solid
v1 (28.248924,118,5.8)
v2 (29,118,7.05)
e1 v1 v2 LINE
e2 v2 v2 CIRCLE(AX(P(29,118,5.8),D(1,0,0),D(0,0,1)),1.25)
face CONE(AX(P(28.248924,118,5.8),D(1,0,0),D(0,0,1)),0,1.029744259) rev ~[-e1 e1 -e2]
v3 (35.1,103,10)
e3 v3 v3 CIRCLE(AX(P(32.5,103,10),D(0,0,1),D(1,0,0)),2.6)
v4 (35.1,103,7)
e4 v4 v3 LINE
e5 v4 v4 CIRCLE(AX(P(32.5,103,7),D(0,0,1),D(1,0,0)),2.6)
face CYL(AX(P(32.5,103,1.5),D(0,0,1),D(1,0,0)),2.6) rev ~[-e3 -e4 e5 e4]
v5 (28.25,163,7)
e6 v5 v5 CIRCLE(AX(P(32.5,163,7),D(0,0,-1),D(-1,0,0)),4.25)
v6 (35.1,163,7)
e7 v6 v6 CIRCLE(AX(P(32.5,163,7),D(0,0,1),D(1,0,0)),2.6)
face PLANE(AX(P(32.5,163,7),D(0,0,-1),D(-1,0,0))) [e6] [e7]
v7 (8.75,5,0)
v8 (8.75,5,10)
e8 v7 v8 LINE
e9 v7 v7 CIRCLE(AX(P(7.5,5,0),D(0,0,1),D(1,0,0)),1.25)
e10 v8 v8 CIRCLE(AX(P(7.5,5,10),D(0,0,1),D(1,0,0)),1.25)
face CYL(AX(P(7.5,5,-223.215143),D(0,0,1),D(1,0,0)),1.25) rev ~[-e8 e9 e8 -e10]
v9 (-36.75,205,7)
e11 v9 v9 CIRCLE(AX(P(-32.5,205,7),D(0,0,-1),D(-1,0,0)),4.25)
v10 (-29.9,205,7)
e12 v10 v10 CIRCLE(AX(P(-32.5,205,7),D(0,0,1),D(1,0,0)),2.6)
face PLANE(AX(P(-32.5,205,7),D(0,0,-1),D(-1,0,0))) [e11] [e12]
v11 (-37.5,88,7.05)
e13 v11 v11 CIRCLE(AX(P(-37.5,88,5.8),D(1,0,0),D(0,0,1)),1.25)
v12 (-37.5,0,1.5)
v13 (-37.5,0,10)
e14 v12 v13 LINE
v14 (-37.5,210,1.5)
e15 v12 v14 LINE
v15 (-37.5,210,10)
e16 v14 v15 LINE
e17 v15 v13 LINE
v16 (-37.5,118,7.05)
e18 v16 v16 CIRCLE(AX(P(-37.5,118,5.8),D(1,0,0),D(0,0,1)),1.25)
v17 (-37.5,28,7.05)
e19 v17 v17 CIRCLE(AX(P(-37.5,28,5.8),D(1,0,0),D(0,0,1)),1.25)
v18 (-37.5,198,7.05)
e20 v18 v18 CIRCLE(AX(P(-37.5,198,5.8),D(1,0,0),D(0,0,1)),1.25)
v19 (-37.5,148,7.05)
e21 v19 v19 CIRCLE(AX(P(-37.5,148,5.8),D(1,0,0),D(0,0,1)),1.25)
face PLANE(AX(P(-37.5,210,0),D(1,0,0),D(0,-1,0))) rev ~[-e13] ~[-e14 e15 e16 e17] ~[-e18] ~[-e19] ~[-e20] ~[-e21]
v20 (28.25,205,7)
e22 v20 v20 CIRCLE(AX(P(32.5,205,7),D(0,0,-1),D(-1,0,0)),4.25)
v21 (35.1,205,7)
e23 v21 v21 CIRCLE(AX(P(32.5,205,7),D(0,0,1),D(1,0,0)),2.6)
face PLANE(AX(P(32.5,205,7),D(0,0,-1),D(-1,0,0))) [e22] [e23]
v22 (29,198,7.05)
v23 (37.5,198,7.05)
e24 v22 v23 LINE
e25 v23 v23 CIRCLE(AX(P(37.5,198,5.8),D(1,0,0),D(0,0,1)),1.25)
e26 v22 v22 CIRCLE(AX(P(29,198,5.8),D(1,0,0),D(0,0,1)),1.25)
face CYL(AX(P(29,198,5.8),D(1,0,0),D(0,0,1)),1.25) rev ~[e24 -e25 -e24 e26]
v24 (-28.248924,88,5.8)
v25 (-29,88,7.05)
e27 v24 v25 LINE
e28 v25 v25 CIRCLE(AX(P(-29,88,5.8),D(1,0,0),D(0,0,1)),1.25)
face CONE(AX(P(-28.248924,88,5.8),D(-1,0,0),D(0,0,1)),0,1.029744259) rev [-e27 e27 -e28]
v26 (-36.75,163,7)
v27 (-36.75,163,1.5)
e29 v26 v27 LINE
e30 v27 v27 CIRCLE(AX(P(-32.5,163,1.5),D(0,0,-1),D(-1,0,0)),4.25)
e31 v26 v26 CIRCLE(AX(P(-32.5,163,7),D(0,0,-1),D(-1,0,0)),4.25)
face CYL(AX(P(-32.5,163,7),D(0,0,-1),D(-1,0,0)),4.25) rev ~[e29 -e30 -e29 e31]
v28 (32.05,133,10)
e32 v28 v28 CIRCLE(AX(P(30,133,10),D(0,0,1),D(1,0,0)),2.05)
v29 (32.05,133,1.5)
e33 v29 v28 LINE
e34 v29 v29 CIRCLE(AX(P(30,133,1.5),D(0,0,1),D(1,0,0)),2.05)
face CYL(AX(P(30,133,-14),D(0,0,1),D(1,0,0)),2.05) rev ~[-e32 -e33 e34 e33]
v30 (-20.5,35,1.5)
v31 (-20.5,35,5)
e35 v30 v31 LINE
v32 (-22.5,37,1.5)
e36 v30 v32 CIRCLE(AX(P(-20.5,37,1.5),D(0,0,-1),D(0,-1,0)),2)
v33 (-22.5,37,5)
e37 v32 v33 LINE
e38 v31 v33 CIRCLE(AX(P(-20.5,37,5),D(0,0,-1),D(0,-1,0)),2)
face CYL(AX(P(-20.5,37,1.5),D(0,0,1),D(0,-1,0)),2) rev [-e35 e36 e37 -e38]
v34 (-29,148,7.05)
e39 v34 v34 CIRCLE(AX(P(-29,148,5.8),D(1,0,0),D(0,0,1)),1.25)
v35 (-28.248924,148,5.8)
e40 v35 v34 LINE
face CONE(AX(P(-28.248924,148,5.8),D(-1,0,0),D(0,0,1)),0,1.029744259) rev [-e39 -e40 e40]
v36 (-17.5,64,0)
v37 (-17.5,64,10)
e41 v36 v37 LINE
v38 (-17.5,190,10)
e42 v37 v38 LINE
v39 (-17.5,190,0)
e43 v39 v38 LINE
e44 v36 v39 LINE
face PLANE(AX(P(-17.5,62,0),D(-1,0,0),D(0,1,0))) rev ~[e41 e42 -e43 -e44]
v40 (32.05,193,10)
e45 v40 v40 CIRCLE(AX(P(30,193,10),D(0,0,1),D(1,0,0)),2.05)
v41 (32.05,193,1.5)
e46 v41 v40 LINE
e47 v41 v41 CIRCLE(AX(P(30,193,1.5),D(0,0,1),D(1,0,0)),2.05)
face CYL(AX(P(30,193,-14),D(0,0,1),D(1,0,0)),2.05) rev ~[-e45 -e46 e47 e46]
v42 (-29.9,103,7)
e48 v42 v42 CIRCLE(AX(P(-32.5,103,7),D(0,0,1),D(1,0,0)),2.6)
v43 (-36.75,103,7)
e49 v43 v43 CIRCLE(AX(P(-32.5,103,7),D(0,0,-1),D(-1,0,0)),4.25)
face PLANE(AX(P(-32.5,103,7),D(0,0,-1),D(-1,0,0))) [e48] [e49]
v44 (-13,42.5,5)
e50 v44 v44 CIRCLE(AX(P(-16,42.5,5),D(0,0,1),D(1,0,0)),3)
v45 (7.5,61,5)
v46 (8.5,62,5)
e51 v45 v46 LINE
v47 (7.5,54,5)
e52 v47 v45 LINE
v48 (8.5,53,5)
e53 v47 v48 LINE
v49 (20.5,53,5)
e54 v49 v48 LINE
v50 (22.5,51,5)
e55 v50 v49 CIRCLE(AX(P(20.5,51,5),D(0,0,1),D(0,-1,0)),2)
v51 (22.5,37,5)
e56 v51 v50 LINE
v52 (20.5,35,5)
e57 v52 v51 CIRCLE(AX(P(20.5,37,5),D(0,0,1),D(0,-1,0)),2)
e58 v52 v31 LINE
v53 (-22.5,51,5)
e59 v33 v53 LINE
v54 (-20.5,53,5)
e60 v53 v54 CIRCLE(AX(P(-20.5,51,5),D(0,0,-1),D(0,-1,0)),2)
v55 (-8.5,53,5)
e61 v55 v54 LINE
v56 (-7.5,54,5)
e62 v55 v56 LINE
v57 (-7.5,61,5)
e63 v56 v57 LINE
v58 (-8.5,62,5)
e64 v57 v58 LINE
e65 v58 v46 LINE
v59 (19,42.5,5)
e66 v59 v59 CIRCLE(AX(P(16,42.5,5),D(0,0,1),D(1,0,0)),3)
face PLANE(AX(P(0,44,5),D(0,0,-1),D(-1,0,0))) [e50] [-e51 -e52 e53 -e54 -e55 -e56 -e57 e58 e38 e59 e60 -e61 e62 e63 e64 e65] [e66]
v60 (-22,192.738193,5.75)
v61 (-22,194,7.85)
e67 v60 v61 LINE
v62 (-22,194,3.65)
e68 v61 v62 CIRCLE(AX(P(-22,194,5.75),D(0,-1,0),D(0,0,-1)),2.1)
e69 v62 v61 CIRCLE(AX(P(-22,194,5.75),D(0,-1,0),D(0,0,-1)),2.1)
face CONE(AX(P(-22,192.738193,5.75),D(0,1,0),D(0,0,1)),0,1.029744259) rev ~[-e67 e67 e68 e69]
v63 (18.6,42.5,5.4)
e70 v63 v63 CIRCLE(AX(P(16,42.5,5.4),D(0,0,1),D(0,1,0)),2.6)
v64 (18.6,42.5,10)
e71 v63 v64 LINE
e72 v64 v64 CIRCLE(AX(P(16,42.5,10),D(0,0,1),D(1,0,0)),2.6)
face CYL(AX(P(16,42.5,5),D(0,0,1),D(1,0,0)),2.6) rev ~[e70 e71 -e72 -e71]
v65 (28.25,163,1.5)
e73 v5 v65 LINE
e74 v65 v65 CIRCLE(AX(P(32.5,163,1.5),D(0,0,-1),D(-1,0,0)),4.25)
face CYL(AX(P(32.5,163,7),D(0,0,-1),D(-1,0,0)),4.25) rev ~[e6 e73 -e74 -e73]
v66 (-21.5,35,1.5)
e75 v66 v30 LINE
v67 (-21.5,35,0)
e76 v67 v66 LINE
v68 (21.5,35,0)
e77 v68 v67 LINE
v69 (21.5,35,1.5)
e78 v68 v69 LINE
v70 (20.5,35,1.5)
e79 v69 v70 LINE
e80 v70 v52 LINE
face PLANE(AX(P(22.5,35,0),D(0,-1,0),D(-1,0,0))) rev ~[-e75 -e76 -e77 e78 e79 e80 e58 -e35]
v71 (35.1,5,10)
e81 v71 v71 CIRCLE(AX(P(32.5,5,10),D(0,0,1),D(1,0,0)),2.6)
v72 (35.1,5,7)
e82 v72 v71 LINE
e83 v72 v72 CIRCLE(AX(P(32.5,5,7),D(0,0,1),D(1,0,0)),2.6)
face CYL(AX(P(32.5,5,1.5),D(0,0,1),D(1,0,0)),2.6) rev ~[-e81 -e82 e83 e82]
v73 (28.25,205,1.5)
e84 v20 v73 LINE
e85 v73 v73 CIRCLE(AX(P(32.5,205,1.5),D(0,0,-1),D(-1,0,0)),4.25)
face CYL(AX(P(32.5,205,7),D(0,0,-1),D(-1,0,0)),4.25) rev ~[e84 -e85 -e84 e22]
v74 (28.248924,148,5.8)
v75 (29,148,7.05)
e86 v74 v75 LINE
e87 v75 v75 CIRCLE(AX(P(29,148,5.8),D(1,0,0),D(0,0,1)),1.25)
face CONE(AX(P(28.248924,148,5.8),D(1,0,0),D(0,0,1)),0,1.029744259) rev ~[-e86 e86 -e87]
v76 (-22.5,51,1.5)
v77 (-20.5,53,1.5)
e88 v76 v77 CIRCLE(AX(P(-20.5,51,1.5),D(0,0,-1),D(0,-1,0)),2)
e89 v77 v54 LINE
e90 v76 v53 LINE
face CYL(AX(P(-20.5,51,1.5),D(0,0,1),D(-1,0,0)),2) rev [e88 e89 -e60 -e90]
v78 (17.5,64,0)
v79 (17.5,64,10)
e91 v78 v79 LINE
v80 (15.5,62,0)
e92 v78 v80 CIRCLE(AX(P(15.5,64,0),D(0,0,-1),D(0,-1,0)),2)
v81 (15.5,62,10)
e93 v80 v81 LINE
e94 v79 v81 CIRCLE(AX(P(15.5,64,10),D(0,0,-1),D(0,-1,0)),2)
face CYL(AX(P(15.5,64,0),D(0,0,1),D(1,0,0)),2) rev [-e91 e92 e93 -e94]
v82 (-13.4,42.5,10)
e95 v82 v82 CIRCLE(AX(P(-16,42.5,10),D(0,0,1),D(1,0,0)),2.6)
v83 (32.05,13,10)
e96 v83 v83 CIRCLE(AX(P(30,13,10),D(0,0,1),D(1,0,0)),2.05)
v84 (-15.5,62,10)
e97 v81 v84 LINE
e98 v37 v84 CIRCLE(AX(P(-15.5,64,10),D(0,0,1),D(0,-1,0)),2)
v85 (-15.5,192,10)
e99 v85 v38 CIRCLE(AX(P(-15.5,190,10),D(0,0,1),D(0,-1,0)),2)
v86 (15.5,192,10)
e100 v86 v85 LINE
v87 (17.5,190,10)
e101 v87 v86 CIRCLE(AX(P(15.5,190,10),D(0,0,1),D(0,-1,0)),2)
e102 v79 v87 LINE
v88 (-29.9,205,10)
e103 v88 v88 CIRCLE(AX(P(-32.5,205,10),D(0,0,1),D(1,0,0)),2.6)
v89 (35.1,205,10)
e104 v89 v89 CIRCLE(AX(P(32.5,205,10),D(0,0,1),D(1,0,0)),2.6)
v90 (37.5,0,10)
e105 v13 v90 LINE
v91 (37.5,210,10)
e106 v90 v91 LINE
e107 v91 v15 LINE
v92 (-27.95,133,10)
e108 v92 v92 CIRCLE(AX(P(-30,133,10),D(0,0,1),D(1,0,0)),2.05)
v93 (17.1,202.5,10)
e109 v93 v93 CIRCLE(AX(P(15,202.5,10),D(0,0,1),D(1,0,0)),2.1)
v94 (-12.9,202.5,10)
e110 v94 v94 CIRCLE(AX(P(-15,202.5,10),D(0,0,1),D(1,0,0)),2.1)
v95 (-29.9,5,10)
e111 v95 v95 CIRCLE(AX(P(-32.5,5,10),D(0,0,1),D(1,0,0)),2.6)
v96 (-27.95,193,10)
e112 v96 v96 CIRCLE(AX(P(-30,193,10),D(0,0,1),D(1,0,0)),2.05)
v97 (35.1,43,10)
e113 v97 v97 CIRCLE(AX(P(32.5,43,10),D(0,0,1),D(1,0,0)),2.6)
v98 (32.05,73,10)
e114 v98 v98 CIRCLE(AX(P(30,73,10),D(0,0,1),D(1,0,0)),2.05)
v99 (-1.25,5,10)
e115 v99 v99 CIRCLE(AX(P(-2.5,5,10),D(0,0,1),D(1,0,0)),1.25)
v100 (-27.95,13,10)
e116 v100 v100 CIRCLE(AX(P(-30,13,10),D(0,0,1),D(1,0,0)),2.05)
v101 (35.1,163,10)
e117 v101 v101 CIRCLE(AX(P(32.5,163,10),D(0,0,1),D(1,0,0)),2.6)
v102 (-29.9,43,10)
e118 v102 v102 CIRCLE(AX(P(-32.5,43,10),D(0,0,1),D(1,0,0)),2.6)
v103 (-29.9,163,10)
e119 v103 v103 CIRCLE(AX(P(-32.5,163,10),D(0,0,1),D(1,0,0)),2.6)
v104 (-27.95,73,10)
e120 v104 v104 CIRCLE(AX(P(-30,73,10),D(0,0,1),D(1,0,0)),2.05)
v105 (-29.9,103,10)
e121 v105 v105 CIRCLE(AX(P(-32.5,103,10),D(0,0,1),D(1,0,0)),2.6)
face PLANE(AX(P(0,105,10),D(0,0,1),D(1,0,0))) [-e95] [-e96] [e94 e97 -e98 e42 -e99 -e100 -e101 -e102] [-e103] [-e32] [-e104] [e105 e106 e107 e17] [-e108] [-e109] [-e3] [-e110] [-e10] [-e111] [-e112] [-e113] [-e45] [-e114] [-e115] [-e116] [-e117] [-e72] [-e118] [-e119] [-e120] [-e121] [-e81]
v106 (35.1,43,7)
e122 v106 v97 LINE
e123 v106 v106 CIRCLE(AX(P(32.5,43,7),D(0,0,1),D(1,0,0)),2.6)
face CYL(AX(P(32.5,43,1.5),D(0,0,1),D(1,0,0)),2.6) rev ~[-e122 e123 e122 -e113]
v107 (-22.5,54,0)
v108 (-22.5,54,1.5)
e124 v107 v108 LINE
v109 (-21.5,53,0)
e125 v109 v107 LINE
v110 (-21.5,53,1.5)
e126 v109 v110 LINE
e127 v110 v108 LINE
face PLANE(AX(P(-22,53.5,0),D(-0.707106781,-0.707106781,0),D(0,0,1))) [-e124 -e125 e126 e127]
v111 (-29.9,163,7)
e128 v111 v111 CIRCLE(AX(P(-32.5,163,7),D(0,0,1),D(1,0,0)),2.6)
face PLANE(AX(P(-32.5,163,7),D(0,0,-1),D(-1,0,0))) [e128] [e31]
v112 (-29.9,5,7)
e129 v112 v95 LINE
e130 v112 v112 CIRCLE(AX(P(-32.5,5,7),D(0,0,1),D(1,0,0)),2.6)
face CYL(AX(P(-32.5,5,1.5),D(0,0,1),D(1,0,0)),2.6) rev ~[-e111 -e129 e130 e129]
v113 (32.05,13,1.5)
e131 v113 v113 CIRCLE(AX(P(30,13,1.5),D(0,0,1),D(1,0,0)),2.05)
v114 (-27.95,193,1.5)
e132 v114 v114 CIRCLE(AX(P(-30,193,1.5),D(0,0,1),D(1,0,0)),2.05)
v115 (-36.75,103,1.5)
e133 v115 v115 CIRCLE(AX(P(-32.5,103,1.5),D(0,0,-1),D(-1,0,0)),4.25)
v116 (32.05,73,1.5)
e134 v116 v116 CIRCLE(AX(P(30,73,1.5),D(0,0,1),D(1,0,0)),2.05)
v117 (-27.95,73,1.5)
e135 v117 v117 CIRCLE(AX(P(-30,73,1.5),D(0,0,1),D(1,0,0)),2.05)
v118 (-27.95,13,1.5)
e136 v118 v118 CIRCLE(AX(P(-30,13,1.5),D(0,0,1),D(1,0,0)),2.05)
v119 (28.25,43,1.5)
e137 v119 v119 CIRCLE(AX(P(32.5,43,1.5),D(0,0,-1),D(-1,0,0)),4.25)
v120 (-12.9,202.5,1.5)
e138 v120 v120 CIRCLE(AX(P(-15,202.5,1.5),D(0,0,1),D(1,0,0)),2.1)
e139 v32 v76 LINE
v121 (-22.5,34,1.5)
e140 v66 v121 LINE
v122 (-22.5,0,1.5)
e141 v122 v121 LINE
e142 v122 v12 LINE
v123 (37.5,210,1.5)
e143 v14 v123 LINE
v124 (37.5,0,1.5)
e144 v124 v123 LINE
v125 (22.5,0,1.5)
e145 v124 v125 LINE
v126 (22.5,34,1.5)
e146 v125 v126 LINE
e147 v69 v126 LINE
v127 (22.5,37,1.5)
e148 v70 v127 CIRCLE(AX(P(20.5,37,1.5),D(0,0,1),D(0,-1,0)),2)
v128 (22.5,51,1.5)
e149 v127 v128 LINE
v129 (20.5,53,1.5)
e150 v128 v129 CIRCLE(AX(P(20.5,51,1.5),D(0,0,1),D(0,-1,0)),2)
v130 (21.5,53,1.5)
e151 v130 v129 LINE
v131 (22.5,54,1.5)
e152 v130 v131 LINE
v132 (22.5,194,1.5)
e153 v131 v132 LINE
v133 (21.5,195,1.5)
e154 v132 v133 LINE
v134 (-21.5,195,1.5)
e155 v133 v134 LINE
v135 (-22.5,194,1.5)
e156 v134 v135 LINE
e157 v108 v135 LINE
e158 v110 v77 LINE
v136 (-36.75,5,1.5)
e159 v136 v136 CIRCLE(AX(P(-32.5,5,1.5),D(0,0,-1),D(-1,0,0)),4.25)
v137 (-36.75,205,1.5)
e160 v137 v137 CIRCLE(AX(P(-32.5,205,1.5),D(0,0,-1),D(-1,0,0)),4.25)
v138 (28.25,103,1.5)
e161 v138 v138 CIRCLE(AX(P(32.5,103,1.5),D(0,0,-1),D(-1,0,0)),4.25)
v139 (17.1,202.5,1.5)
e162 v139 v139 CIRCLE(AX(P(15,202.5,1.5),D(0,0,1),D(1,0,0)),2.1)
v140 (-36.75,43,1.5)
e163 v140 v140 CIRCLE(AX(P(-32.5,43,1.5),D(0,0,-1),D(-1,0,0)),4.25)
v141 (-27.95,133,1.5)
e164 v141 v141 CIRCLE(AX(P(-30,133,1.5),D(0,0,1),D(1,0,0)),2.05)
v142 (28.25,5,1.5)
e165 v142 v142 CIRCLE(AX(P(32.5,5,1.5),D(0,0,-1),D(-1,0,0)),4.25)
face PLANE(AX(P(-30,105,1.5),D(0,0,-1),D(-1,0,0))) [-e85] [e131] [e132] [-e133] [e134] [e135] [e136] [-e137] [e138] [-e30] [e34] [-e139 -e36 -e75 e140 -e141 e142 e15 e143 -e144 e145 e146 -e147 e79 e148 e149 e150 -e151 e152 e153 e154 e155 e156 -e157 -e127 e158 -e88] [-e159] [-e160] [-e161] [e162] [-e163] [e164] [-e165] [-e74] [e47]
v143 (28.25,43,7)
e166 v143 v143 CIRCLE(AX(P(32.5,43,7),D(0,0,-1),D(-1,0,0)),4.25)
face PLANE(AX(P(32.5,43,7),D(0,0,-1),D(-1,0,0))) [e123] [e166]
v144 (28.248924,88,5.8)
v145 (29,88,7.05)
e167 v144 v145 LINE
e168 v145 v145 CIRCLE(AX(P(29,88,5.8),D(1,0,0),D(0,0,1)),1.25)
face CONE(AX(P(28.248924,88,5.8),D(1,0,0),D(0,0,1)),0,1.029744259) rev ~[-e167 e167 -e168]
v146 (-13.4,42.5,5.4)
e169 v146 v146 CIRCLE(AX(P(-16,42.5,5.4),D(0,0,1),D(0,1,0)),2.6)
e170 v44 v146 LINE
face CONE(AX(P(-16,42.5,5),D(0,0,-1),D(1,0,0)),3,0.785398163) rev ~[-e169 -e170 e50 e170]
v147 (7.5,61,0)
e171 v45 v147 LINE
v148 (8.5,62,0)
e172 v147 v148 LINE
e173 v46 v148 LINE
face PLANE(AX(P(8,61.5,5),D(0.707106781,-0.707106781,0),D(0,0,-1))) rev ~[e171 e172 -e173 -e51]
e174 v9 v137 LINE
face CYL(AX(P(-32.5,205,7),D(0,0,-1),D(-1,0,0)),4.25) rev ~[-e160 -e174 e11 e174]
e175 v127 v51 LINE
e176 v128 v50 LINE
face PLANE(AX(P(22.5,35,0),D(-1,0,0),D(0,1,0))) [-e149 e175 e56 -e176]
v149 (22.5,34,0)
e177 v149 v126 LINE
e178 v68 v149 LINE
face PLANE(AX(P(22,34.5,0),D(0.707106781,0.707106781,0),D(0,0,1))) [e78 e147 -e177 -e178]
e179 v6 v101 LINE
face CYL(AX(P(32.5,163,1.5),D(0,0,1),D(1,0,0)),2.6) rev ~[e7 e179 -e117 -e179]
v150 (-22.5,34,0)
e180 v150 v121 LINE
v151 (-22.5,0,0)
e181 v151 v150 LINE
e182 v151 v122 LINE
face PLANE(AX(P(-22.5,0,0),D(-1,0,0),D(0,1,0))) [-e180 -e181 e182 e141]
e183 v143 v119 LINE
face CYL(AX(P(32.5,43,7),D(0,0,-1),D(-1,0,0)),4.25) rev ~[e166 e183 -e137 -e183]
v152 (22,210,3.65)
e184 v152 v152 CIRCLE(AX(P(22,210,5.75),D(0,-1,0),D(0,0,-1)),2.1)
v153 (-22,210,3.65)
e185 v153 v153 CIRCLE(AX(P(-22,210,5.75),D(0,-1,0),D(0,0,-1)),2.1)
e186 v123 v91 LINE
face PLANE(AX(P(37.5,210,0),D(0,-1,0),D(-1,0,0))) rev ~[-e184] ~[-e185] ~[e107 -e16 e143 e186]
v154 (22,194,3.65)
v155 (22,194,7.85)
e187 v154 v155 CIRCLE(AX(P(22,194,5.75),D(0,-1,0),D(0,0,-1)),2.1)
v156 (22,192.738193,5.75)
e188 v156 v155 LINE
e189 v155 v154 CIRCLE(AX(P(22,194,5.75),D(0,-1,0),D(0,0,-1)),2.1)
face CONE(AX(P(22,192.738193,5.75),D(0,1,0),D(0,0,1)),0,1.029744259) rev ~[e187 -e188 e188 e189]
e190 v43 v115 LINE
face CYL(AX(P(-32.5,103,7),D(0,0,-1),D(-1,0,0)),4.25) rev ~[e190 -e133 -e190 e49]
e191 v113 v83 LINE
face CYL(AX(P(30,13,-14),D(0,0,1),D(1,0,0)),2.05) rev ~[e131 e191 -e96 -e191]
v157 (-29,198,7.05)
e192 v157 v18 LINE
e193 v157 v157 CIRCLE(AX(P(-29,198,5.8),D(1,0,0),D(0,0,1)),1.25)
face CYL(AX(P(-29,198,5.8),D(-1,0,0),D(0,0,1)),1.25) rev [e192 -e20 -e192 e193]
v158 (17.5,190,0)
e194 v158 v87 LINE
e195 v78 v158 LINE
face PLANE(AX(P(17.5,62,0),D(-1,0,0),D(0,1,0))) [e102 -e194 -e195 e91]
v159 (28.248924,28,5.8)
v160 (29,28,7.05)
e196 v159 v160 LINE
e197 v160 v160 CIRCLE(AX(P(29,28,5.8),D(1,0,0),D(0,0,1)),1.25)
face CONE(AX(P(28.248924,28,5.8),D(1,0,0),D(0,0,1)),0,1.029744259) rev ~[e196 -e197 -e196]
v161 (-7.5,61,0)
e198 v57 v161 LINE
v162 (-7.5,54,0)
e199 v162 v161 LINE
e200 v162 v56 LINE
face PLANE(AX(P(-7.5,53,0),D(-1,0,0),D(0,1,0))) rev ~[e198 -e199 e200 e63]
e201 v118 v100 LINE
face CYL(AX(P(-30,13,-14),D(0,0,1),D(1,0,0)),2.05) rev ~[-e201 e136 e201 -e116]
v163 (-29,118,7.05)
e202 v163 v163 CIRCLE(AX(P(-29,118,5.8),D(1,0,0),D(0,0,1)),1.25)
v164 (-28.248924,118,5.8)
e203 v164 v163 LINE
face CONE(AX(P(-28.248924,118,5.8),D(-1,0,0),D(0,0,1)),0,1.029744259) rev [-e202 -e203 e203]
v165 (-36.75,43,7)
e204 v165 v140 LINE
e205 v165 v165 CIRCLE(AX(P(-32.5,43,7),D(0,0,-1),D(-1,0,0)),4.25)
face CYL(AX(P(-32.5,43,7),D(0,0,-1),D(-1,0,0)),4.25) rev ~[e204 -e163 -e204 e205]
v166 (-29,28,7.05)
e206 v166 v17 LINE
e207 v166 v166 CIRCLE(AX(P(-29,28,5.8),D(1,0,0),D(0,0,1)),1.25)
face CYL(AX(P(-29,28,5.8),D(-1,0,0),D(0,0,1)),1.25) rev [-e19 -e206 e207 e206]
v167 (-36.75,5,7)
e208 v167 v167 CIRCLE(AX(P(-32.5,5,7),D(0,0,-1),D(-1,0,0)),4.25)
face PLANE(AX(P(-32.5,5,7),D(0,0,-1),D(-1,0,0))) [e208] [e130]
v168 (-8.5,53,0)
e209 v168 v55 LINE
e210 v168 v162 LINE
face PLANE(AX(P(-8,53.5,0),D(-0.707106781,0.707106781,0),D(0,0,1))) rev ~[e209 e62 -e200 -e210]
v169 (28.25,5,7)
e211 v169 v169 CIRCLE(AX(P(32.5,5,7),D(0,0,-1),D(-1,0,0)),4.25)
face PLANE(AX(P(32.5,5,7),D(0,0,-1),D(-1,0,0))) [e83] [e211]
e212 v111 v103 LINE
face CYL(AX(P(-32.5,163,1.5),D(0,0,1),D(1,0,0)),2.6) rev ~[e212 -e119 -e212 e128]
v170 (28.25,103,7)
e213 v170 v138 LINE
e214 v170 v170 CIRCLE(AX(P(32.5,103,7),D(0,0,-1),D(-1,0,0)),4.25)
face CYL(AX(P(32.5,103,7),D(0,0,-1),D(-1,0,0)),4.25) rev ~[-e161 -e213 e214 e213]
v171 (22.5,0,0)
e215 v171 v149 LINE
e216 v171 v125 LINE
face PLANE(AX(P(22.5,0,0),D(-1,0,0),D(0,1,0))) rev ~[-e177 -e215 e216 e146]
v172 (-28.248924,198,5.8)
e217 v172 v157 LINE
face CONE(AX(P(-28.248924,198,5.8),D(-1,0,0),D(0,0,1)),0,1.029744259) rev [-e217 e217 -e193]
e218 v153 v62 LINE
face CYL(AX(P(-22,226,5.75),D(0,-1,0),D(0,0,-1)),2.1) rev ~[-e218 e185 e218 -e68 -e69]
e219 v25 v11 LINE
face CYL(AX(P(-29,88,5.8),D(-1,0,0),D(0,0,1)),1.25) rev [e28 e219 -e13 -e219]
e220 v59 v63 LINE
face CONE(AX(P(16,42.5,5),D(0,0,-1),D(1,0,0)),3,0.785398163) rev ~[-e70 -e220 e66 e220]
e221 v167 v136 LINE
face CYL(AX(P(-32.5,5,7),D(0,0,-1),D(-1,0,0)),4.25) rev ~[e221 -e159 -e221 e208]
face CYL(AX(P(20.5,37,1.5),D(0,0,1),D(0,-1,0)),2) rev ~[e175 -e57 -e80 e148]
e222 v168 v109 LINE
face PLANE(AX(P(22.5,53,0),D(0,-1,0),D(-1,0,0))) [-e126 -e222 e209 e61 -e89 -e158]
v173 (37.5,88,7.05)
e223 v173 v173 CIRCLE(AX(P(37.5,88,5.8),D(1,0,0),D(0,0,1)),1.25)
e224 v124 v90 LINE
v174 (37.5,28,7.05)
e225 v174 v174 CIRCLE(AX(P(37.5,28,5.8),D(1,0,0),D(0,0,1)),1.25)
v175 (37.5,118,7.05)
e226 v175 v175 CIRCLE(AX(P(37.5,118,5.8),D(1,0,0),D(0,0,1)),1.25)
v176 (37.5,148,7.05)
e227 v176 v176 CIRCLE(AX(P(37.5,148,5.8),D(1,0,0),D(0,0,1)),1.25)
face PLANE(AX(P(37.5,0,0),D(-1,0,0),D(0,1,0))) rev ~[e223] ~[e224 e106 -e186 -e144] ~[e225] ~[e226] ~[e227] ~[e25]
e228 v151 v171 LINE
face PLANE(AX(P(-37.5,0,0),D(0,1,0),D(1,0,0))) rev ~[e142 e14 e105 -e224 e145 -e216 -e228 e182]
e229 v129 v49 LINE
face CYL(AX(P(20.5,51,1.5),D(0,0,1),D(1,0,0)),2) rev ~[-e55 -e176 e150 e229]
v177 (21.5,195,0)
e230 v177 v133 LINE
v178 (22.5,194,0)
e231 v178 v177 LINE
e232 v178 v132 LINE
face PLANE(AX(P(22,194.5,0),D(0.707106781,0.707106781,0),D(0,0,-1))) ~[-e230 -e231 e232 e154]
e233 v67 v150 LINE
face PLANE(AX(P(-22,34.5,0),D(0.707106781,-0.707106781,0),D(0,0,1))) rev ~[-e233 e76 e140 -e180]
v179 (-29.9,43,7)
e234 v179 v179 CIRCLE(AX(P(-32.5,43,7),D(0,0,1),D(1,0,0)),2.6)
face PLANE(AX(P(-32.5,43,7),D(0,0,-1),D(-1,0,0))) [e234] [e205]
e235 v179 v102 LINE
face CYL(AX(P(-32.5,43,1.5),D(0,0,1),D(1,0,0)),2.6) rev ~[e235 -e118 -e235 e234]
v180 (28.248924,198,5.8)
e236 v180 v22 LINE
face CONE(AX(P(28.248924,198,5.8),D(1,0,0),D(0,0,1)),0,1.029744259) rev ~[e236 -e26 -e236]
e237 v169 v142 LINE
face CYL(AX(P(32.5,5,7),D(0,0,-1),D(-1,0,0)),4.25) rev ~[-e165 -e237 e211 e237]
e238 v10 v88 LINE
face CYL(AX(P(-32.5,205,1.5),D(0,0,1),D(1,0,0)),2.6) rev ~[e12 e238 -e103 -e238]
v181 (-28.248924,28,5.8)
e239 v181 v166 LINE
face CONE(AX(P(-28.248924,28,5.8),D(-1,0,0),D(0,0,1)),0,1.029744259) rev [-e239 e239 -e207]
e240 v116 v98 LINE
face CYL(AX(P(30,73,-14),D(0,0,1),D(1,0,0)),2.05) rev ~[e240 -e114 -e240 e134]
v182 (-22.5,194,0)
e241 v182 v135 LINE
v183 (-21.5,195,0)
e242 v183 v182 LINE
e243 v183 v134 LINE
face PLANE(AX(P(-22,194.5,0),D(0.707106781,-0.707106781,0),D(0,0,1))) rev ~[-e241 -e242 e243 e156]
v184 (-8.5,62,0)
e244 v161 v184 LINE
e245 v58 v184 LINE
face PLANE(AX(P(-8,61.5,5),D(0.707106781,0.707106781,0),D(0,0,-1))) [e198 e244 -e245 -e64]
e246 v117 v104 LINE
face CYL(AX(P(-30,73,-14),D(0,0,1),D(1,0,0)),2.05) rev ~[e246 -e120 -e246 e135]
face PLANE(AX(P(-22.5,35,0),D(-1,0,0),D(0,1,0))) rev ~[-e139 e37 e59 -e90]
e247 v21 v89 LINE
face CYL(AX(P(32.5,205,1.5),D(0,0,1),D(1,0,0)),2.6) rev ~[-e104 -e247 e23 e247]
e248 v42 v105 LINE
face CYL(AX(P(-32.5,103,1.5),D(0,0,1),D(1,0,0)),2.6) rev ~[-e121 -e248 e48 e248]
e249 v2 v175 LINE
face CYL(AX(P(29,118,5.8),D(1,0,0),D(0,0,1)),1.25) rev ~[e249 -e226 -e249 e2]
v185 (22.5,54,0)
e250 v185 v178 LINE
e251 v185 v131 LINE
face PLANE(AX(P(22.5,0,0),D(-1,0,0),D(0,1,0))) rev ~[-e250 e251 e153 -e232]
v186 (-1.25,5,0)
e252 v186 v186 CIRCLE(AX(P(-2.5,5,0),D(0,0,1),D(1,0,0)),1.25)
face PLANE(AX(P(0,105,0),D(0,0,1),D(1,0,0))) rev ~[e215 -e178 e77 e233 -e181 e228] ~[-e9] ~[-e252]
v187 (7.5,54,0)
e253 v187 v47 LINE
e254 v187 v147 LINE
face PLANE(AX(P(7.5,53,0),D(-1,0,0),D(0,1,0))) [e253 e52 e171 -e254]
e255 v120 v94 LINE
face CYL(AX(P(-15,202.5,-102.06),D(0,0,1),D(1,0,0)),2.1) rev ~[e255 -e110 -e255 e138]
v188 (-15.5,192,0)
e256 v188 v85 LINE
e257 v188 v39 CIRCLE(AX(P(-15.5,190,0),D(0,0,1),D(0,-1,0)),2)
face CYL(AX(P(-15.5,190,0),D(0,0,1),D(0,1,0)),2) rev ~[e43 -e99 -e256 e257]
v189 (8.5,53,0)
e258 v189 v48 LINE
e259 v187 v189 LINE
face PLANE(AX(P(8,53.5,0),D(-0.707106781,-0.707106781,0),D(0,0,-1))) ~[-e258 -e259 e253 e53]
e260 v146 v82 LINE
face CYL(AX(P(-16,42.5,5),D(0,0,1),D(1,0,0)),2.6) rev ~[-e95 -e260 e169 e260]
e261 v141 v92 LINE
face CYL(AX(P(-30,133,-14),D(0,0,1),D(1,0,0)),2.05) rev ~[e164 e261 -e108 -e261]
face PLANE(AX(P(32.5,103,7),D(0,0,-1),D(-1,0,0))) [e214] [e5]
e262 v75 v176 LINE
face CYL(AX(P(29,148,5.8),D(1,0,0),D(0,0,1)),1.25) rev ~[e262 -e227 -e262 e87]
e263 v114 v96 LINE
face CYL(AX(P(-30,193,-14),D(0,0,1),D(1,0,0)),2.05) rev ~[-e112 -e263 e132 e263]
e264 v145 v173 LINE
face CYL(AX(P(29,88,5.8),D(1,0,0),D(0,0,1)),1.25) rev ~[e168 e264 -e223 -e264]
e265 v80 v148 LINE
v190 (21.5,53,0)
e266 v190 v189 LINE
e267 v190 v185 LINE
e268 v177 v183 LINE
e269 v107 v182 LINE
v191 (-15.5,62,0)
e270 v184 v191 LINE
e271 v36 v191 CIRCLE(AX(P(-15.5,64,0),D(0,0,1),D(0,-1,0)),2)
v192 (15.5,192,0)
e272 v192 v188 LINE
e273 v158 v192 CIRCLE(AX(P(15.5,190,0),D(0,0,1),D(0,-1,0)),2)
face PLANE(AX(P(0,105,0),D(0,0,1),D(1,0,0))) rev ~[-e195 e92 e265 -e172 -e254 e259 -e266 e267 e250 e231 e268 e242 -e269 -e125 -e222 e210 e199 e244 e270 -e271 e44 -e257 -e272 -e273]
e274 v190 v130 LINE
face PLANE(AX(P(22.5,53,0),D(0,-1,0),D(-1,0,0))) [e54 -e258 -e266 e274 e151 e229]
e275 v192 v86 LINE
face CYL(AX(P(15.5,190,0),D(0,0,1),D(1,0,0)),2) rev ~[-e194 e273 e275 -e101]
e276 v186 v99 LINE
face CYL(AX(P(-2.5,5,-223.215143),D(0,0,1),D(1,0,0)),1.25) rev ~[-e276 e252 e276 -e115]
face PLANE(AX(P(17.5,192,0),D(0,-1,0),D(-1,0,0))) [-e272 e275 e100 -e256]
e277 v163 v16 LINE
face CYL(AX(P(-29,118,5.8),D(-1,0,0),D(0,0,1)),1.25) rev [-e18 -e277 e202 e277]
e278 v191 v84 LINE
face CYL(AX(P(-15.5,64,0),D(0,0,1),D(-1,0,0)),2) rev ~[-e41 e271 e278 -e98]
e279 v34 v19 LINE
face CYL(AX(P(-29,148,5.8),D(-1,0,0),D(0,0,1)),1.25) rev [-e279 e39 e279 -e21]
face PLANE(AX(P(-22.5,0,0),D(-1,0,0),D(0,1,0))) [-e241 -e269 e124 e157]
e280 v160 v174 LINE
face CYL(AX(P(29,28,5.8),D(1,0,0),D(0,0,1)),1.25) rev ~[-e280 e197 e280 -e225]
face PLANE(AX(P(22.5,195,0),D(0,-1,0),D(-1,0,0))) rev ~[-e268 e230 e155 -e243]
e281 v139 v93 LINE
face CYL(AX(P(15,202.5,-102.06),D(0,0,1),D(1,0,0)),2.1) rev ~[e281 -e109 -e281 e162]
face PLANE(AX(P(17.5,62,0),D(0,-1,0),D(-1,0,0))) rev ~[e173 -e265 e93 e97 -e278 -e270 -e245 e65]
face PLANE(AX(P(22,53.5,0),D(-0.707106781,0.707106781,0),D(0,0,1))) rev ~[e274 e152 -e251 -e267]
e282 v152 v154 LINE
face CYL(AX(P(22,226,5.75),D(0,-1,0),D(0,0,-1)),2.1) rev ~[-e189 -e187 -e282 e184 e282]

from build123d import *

# Parameters (mm, degrees)
BOSS_EXTRUDE1_DEPTH                                 = 10
M5_TAPPED_HOLE1_D                                   = 4.1
M5_TAPPED_HOLE1_DEPTH                               = 14
M5_TAPPED_HOLE1_TIP                                 = 1.231764269
CUT_EXTRUDE1_REACH                                  = 12
SKETCH4_W                                           = 35
SKETCH4_H                                           = 130
FILLET1_R                                           = 2
SKETCH6_W                                           = 15
SKETCH6_H                                           = 210
CUT_EXTRUDE2_DEPTH                                  = 1.5
SKETCH7_W                                           = 45
SKETCH7_H                                           = 15
CUT_EXTRUDE3_DEPTH                                  = 1.5
CBORE_FOR_M5_HEX_SOCKET_HEAD_CAP_SCREW1_D           = 5.2
CBORE_FOR_M5_HEX_SOCKET_HEAD_CAP_SCREW1_CBORE_D     = 8.5
CBORE_FOR_M5_HEX_SOCKET_HEAD_CAP_SCREW1_CBORE_DEPTH = 5.5
M5_TAPPED_HOLE2_D                                   = 4.2
M5_TAPPED_HOLE2_DEPTH                               = 16
M5_TAPPED_HOLE2_TIP                                 = 1.2618073
M5_TAPPED_HOLE3_D                                   = 4.2
M5_TAPPED_HOLE3_DEPTH                               = 103.56
M5_TAPPED_HOLE3_TIP                                 = 1.2618073
SKETCH14_W                                          = 45
SKETCH14_H                                          = 18
CUT_EXTRUDE4_DEPTH                                  = 5
FILLET2_R                                           = 2
SKETCH15_W                                          = 15
SKETCH15_H                                          = 18
CUT_EXTRUDE6_DEPTH                                  = 5
TAP_DRILL_FOR_M5_TAP1_D                             = 5.2
TAP_DRILL_FOR_M5_TAP1_DEPTH                         = 46
TAP_DRILL_FOR_M5_TAP1_CSINK_D                       = 6
TAP_DRILL_FOR_M5_TAP1_CSINK_ANGLE                   = 90
TAP_DRILL_FOR_M5_TAP1_TIP                           = 1.562237609
CHAMFER1_SIZE                                       = 1
M3_TAPPED_HOLE1_AT_2_COUNT                          = 2
M3_TAPPED_HOLE1_AT_2_PITCH                          = 50
M3_TAPPED_HOLE1_AT_3_COUNT                          = 2
M3_TAPPED_HOLE1_AT_3_PITCH                          = 80
M3_TAPPED_HOLE1_AT_4_COUNT                          = 2
M3_TAPPED_HOLE1_AT_4_PITCH                          = 110
M3_TAPPED_HOLE1_AT_5_COUNT                          = 2
M3_TAPPED_HOLE1_AT_5_PITCH                          = 170
M3_TAPPED_HOLE2_D                                   = 2.5


with BuildPart() as part:
    # Sketch1 → Boss-Extrude1 (new body)
    with BuildSketch(Plane.XY):
        Polygon((-37.5, 0), (0, 0), (37.5, 0), (37.5, 210), (0, 210), (-37.5, 210), align=None)
    extrude(amount=BOSS_EXTRUDE1_DEPTH)

    # M5 Tapped Hole1
    with Locations(Plane(origin=(30, 193, 0), x_dir=(-1, 0, 0), z_dir=(0, 0, -1))):
        with Locations((0, 0), (0, -60), (0, -120), (0, -180), (60, -180), (60, -120), (60, -60), (60, 0)):
            Hole(M5_TAPPED_HOLE1_D / 2, depth=M5_TAPPED_HOLE1_DEPTH)
            with Locations((0, 0, -(M5_TAPPED_HOLE1_DEPTH + M5_TAPPED_HOLE1_TIP / 2))):  # 118° drill point
                Cone(0, M5_TAPPED_HOLE1_D / 2, M5_TAPPED_HOLE1_TIP, mode=Mode.SUBTRACT)

    # Sketch4 → Cut-Extrude1 (cut, up to next)
    with BuildSketch(Plane(origin=(0, 0, 0), x_dir=(-1, 0, 0), z_dir=(0, 0, -1)), mode=Mode.PRIVATE) as cut_extrude1_sk1:
        with Locations((0, 127)):
            Rectangle(SKETCH4_W, SKETCH4_H)
    cut_extrude1_tool1 = extrude(cut_extrude1_sk1.sketch, amount=-CUT_EXTRUDE1_REACH, mode=Mode.PRIVATE) & part.part
    add(cut_extrude1_tool1.solids().sort_by_distance((0, 127, 0))[0], mode=Mode.SUBTRACT)

    # Fillet1
    fillet1_edges = [part.edges().sort_by_distance(p)[0] for p in [
        (17.5, 62, 5),
        (17.5, 192, 5),
        (-17.5, 192, 5),
        (-17.5, 62, 5),
    ]]
    fillet(fillet1_edges, radius=FILLET1_R)

    # Sketch6 → Cut-Extrude2 (cut)
    with BuildSketch(Plane(origin=(0, 0, 0), x_dir=(-1, 0, 0), z_dir=(0, 0, -1))):
        with Locations((-30, 105)):
            Rectangle(SKETCH6_W, SKETCH6_H)
        with Locations((30, 105)):
            Rectangle(SKETCH6_W, SKETCH6_H)
    extrude(amount=-CUT_EXTRUDE2_DEPTH, mode=Mode.SUBTRACT)

    # Sketch7 → Cut-Extrude3 (cut)
    with BuildSketch(Plane(origin=(0, 0, 0), x_dir=(-1, 0, 0), z_dir=(0, 0, -1))):
        with Locations((0, 202.5)):
            Rectangle(SKETCH7_W, SKETCH7_H)
    extrude(amount=-CUT_EXTRUDE3_DEPTH, mode=Mode.SUBTRACT)

    # CBORE for M5 Hex Socket Head Cap Screw1 (through all)
    with Locations(Plane(origin=(32.5, 205, 1.5), x_dir=(-1, 0, 0), z_dir=(0, 0, -1))):
        with Locations((0, 0), (0, -42), (0, -102), (0, -162), (0, -200), (65, -200), (65, -162), (65, -102), (65, -42), (65, 0)):
            CounterBoreHole(CBORE_FOR_M5_HEX_SOCKET_HEAD_CAP_SCREW1_D / 2, CBORE_FOR_M5_HEX_SOCKET_HEAD_CAP_SCREW1_CBORE_D / 2, CBORE_FOR_M5_HEX_SOCKET_HEAD_CAP_SCREW1_CBORE_DEPTH)

    # M5 Tapped Hole2
    with Locations(Plane(origin=(-22, 210, 5.75), x_dir=(0, 0, 1), z_dir=(0, 1, 0))):
        with Locations((0, 0), (0, 44)):
            Hole(M5_TAPPED_HOLE2_D / 2, depth=M5_TAPPED_HOLE2_DEPTH)
            with Locations((0, 0, -(M5_TAPPED_HOLE2_DEPTH + M5_TAPPED_HOLE2_TIP / 2))):  # 118° drill point
                Cone(0, M5_TAPPED_HOLE2_D / 2, M5_TAPPED_HOLE2_TIP, mode=Mode.SUBTRACT)

    # M5 Tapped Hole3
    with Locations(Plane(origin=(15, 202.5, 1.5), x_dir=(-1, 0, 0), z_dir=(0, 0, -1))):
        with Locations((0, 0), (30, 0)):
            Hole(M5_TAPPED_HOLE3_D / 2, depth=M5_TAPPED_HOLE3_DEPTH)
            with Locations((0, 0, -(M5_TAPPED_HOLE3_DEPTH + M5_TAPPED_HOLE3_TIP / 2))):  # 118° drill point
                Cone(0, M5_TAPPED_HOLE3_D / 2, M5_TAPPED_HOLE3_TIP, mode=Mode.SUBTRACT)

    # Sketch14 → Cut-Extrude4 (cut)
    with BuildSketch(Plane(origin=(0, 0, 0), x_dir=(-1, 0, 0), z_dir=(0, 0, -1))):
        with Locations((0, 44)):
            Rectangle(SKETCH14_W, SKETCH14_H)
    extrude(amount=-CUT_EXTRUDE4_DEPTH, mode=Mode.SUBTRACT)

    # Fillet2
    fillet2_edges = [part.edges().sort_by_distance(p)[0] for p in [
        (22.5, 35, 3.25),
        (22.5, 53, 3.25),
        (-22.5, 53, 3.25),
        (-22.5, 35, 3.25),
    ]]
    fillet(fillet2_edges, radius=FILLET2_R)

    # Sketch15 → Cut-Extrude6 (cut)
    with BuildSketch(Plane(origin=(0, 0, 0), x_dir=(-1, 0, 0), z_dir=(0, 0, -1))):
        with Locations((0, 62)):
            Rectangle(SKETCH15_W, SKETCH15_H)
    extrude(amount=-CUT_EXTRUDE6_DEPTH, mode=Mode.SUBTRACT)

    # Tap Drill for M5 Tap1
    with Locations(Plane(origin=(16, 42.5, 5), x_dir=(-1, 0, 0), z_dir=(0, 0, -1))):
        with Locations((0, 0), (32, 0)):
            CounterSinkHole(TAP_DRILL_FOR_M5_TAP1_D / 2, TAP_DRILL_FOR_M5_TAP1_CSINK_D / 2, depth=TAP_DRILL_FOR_M5_TAP1_DEPTH, counter_sink_angle=TAP_DRILL_FOR_M5_TAP1_CSINK_ANGLE)
            with Locations((0, 0, -(TAP_DRILL_FOR_M5_TAP1_DEPTH + TAP_DRILL_FOR_M5_TAP1_TIP / 2))):  # 118° drill point
                Cone(0, TAP_DRILL_FOR_M5_TAP1_D / 2, TAP_DRILL_FOR_M5_TAP1_TIP, mode=Mode.SUBTRACT)

    # Chamfer1
    chamfer1_edges = [part.edges().sort_by_distance(p)[0] for p in [
        (-22.5, 195, 0.75),
        (22.5, 195, 0.75),
        (-22.5, 35, 0.75),
        (-22.5, 53, 0.75),
        (22.5, 35, 0.75),
        (22.5, 53, 0.75),
        (7.5, 62, 2.5),
        (7.5, 53, 2.5),
        (-7.5, 62, 2.5),
        (-7.5, 53, 2.5),
    ]]
    chamfer(chamfer1_edges, length=CHAMFER1_SIZE)

    # Sketch20 → M3 Tapped Hole1 (revolve, cut)
    with BuildSketch(Plane(origin=(-37.5, 198, 5.8), x_dir=(0, 0, 1), z_dir=(0, 1, 0))):
        Polygon((0, 0), (0, 9.251075774), (1.25, 8.5), (1.25, 0), align=None)
    m3_tapped_hole1 = revolve(axis=Axis((-43.85, 198, 5.8), (1, 0, 0)), mode=Mode.SUBTRACT)

    # M3 Tapped Hole1 at 2: M3 Tapped Hole1 ×2
    with Locations(*[(0, -i * M3_TAPPED_HOLE1_AT_2_PITCH, 0) for i in range(1, M3_TAPPED_HOLE1_AT_2_COUNT)]):
        add(m3_tapped_hole1, mode=Mode.SUBTRACT)

    # M3 Tapped Hole1 at 3: M3 Tapped Hole1 ×2
    with Locations(*[(0, -i * M3_TAPPED_HOLE1_AT_3_PITCH, 0) for i in range(1, M3_TAPPED_HOLE1_AT_3_COUNT)]):
        add(m3_tapped_hole1, mode=Mode.SUBTRACT)

    # M3 Tapped Hole1 at 4: M3 Tapped Hole1 ×2
    with Locations(*[(0, -i * M3_TAPPED_HOLE1_AT_4_PITCH, 0) for i in range(1, M3_TAPPED_HOLE1_AT_4_COUNT)]):
        add(m3_tapped_hole1, mode=Mode.SUBTRACT)

    # M3 Tapped Hole1 at 5: M3 Tapped Hole1 ×2
    with Locations(*[(0, -i * M3_TAPPED_HOLE1_AT_5_PITCH, 0) for i in range(1, M3_TAPPED_HOLE1_AT_5_COUNT)]):
        add(m3_tapped_hole1, mode=Mode.SUBTRACT)

    # Mirror1: M3 Tapped Hole1 across plane
    add(m3_tapped_hole1.mirror(Plane(origin=(0, 0, 0), x_dir=(0, 0, 1), z_dir=(1, 0, 0))), mode=Mode.SUBTRACT)

    # Mirror1 copy 1 sketch → Mirror1 copy 1 (revolve, cut)
    with BuildSketch(Plane(origin=(37.5, 148, 5.8), x_dir=(0, 0, 1), z_dir=(0, 1, 0))):
        Polygon((0, 0), (0, -9.251075774), (1.25, -8.5), (1.25, 0), align=None)
    revolve(axis=Axis((43.85, 148, 5.8), (1, 0, 0)), mode=Mode.SUBTRACT)

    # Mirror1 copy 2 sketch → Mirror1 copy 2 (revolve, cut)
    with BuildSketch(Plane(origin=(37.5, 118, 5.8), x_dir=(0, 0, 1), z_dir=(0, 1, 0))):
        Polygon((0, 0), (0, -9.251075774), (1.25, -8.5), (1.25, 0), align=None)
    revolve(axis=Axis((43.85, 118, 5.8), (1, 0, 0)), mode=Mode.SUBTRACT)

    # Mirror1 copy 3 sketch → Mirror1 copy 3 (revolve, cut)
    with BuildSketch(Plane(origin=(37.5, 88, 5.8), x_dir=(0, 0, 1), z_dir=(0, 1, 0))):
        Polygon((0, 0), (0, -9.251075774), (1.25, -8.5), (1.25, 0), align=None)
    revolve(axis=Axis((43.85, 88, 5.8), (1, 0, 0)), mode=Mode.SUBTRACT)

    # Mirror1 copy 4 sketch → Mirror1 copy 4 (revolve, cut)
    with BuildSketch(Plane(origin=(37.5, 28, 5.8), x_dir=(0, 0, 1), z_dir=(0, 1, 0))):
        Polygon((0, 0), (0, -9.251075774), (1.25, -8.5), (1.25, 0), align=None)
    revolve(axis=Axis((43.85, 28, 5.8), (1, 0, 0)), mode=Mode.SUBTRACT)

    # M3 Tapped Hole2 (through all)
    with Locations(Plane(origin=(7.5, 5, 0), x_dir=(-1, 0, 0), z_dir=(0, 0, -1))):
        with Locations((0, 0), (10, 0)):
            Hole(M3_TAPPED_HOLE2_D / 2)


solid = part.part
